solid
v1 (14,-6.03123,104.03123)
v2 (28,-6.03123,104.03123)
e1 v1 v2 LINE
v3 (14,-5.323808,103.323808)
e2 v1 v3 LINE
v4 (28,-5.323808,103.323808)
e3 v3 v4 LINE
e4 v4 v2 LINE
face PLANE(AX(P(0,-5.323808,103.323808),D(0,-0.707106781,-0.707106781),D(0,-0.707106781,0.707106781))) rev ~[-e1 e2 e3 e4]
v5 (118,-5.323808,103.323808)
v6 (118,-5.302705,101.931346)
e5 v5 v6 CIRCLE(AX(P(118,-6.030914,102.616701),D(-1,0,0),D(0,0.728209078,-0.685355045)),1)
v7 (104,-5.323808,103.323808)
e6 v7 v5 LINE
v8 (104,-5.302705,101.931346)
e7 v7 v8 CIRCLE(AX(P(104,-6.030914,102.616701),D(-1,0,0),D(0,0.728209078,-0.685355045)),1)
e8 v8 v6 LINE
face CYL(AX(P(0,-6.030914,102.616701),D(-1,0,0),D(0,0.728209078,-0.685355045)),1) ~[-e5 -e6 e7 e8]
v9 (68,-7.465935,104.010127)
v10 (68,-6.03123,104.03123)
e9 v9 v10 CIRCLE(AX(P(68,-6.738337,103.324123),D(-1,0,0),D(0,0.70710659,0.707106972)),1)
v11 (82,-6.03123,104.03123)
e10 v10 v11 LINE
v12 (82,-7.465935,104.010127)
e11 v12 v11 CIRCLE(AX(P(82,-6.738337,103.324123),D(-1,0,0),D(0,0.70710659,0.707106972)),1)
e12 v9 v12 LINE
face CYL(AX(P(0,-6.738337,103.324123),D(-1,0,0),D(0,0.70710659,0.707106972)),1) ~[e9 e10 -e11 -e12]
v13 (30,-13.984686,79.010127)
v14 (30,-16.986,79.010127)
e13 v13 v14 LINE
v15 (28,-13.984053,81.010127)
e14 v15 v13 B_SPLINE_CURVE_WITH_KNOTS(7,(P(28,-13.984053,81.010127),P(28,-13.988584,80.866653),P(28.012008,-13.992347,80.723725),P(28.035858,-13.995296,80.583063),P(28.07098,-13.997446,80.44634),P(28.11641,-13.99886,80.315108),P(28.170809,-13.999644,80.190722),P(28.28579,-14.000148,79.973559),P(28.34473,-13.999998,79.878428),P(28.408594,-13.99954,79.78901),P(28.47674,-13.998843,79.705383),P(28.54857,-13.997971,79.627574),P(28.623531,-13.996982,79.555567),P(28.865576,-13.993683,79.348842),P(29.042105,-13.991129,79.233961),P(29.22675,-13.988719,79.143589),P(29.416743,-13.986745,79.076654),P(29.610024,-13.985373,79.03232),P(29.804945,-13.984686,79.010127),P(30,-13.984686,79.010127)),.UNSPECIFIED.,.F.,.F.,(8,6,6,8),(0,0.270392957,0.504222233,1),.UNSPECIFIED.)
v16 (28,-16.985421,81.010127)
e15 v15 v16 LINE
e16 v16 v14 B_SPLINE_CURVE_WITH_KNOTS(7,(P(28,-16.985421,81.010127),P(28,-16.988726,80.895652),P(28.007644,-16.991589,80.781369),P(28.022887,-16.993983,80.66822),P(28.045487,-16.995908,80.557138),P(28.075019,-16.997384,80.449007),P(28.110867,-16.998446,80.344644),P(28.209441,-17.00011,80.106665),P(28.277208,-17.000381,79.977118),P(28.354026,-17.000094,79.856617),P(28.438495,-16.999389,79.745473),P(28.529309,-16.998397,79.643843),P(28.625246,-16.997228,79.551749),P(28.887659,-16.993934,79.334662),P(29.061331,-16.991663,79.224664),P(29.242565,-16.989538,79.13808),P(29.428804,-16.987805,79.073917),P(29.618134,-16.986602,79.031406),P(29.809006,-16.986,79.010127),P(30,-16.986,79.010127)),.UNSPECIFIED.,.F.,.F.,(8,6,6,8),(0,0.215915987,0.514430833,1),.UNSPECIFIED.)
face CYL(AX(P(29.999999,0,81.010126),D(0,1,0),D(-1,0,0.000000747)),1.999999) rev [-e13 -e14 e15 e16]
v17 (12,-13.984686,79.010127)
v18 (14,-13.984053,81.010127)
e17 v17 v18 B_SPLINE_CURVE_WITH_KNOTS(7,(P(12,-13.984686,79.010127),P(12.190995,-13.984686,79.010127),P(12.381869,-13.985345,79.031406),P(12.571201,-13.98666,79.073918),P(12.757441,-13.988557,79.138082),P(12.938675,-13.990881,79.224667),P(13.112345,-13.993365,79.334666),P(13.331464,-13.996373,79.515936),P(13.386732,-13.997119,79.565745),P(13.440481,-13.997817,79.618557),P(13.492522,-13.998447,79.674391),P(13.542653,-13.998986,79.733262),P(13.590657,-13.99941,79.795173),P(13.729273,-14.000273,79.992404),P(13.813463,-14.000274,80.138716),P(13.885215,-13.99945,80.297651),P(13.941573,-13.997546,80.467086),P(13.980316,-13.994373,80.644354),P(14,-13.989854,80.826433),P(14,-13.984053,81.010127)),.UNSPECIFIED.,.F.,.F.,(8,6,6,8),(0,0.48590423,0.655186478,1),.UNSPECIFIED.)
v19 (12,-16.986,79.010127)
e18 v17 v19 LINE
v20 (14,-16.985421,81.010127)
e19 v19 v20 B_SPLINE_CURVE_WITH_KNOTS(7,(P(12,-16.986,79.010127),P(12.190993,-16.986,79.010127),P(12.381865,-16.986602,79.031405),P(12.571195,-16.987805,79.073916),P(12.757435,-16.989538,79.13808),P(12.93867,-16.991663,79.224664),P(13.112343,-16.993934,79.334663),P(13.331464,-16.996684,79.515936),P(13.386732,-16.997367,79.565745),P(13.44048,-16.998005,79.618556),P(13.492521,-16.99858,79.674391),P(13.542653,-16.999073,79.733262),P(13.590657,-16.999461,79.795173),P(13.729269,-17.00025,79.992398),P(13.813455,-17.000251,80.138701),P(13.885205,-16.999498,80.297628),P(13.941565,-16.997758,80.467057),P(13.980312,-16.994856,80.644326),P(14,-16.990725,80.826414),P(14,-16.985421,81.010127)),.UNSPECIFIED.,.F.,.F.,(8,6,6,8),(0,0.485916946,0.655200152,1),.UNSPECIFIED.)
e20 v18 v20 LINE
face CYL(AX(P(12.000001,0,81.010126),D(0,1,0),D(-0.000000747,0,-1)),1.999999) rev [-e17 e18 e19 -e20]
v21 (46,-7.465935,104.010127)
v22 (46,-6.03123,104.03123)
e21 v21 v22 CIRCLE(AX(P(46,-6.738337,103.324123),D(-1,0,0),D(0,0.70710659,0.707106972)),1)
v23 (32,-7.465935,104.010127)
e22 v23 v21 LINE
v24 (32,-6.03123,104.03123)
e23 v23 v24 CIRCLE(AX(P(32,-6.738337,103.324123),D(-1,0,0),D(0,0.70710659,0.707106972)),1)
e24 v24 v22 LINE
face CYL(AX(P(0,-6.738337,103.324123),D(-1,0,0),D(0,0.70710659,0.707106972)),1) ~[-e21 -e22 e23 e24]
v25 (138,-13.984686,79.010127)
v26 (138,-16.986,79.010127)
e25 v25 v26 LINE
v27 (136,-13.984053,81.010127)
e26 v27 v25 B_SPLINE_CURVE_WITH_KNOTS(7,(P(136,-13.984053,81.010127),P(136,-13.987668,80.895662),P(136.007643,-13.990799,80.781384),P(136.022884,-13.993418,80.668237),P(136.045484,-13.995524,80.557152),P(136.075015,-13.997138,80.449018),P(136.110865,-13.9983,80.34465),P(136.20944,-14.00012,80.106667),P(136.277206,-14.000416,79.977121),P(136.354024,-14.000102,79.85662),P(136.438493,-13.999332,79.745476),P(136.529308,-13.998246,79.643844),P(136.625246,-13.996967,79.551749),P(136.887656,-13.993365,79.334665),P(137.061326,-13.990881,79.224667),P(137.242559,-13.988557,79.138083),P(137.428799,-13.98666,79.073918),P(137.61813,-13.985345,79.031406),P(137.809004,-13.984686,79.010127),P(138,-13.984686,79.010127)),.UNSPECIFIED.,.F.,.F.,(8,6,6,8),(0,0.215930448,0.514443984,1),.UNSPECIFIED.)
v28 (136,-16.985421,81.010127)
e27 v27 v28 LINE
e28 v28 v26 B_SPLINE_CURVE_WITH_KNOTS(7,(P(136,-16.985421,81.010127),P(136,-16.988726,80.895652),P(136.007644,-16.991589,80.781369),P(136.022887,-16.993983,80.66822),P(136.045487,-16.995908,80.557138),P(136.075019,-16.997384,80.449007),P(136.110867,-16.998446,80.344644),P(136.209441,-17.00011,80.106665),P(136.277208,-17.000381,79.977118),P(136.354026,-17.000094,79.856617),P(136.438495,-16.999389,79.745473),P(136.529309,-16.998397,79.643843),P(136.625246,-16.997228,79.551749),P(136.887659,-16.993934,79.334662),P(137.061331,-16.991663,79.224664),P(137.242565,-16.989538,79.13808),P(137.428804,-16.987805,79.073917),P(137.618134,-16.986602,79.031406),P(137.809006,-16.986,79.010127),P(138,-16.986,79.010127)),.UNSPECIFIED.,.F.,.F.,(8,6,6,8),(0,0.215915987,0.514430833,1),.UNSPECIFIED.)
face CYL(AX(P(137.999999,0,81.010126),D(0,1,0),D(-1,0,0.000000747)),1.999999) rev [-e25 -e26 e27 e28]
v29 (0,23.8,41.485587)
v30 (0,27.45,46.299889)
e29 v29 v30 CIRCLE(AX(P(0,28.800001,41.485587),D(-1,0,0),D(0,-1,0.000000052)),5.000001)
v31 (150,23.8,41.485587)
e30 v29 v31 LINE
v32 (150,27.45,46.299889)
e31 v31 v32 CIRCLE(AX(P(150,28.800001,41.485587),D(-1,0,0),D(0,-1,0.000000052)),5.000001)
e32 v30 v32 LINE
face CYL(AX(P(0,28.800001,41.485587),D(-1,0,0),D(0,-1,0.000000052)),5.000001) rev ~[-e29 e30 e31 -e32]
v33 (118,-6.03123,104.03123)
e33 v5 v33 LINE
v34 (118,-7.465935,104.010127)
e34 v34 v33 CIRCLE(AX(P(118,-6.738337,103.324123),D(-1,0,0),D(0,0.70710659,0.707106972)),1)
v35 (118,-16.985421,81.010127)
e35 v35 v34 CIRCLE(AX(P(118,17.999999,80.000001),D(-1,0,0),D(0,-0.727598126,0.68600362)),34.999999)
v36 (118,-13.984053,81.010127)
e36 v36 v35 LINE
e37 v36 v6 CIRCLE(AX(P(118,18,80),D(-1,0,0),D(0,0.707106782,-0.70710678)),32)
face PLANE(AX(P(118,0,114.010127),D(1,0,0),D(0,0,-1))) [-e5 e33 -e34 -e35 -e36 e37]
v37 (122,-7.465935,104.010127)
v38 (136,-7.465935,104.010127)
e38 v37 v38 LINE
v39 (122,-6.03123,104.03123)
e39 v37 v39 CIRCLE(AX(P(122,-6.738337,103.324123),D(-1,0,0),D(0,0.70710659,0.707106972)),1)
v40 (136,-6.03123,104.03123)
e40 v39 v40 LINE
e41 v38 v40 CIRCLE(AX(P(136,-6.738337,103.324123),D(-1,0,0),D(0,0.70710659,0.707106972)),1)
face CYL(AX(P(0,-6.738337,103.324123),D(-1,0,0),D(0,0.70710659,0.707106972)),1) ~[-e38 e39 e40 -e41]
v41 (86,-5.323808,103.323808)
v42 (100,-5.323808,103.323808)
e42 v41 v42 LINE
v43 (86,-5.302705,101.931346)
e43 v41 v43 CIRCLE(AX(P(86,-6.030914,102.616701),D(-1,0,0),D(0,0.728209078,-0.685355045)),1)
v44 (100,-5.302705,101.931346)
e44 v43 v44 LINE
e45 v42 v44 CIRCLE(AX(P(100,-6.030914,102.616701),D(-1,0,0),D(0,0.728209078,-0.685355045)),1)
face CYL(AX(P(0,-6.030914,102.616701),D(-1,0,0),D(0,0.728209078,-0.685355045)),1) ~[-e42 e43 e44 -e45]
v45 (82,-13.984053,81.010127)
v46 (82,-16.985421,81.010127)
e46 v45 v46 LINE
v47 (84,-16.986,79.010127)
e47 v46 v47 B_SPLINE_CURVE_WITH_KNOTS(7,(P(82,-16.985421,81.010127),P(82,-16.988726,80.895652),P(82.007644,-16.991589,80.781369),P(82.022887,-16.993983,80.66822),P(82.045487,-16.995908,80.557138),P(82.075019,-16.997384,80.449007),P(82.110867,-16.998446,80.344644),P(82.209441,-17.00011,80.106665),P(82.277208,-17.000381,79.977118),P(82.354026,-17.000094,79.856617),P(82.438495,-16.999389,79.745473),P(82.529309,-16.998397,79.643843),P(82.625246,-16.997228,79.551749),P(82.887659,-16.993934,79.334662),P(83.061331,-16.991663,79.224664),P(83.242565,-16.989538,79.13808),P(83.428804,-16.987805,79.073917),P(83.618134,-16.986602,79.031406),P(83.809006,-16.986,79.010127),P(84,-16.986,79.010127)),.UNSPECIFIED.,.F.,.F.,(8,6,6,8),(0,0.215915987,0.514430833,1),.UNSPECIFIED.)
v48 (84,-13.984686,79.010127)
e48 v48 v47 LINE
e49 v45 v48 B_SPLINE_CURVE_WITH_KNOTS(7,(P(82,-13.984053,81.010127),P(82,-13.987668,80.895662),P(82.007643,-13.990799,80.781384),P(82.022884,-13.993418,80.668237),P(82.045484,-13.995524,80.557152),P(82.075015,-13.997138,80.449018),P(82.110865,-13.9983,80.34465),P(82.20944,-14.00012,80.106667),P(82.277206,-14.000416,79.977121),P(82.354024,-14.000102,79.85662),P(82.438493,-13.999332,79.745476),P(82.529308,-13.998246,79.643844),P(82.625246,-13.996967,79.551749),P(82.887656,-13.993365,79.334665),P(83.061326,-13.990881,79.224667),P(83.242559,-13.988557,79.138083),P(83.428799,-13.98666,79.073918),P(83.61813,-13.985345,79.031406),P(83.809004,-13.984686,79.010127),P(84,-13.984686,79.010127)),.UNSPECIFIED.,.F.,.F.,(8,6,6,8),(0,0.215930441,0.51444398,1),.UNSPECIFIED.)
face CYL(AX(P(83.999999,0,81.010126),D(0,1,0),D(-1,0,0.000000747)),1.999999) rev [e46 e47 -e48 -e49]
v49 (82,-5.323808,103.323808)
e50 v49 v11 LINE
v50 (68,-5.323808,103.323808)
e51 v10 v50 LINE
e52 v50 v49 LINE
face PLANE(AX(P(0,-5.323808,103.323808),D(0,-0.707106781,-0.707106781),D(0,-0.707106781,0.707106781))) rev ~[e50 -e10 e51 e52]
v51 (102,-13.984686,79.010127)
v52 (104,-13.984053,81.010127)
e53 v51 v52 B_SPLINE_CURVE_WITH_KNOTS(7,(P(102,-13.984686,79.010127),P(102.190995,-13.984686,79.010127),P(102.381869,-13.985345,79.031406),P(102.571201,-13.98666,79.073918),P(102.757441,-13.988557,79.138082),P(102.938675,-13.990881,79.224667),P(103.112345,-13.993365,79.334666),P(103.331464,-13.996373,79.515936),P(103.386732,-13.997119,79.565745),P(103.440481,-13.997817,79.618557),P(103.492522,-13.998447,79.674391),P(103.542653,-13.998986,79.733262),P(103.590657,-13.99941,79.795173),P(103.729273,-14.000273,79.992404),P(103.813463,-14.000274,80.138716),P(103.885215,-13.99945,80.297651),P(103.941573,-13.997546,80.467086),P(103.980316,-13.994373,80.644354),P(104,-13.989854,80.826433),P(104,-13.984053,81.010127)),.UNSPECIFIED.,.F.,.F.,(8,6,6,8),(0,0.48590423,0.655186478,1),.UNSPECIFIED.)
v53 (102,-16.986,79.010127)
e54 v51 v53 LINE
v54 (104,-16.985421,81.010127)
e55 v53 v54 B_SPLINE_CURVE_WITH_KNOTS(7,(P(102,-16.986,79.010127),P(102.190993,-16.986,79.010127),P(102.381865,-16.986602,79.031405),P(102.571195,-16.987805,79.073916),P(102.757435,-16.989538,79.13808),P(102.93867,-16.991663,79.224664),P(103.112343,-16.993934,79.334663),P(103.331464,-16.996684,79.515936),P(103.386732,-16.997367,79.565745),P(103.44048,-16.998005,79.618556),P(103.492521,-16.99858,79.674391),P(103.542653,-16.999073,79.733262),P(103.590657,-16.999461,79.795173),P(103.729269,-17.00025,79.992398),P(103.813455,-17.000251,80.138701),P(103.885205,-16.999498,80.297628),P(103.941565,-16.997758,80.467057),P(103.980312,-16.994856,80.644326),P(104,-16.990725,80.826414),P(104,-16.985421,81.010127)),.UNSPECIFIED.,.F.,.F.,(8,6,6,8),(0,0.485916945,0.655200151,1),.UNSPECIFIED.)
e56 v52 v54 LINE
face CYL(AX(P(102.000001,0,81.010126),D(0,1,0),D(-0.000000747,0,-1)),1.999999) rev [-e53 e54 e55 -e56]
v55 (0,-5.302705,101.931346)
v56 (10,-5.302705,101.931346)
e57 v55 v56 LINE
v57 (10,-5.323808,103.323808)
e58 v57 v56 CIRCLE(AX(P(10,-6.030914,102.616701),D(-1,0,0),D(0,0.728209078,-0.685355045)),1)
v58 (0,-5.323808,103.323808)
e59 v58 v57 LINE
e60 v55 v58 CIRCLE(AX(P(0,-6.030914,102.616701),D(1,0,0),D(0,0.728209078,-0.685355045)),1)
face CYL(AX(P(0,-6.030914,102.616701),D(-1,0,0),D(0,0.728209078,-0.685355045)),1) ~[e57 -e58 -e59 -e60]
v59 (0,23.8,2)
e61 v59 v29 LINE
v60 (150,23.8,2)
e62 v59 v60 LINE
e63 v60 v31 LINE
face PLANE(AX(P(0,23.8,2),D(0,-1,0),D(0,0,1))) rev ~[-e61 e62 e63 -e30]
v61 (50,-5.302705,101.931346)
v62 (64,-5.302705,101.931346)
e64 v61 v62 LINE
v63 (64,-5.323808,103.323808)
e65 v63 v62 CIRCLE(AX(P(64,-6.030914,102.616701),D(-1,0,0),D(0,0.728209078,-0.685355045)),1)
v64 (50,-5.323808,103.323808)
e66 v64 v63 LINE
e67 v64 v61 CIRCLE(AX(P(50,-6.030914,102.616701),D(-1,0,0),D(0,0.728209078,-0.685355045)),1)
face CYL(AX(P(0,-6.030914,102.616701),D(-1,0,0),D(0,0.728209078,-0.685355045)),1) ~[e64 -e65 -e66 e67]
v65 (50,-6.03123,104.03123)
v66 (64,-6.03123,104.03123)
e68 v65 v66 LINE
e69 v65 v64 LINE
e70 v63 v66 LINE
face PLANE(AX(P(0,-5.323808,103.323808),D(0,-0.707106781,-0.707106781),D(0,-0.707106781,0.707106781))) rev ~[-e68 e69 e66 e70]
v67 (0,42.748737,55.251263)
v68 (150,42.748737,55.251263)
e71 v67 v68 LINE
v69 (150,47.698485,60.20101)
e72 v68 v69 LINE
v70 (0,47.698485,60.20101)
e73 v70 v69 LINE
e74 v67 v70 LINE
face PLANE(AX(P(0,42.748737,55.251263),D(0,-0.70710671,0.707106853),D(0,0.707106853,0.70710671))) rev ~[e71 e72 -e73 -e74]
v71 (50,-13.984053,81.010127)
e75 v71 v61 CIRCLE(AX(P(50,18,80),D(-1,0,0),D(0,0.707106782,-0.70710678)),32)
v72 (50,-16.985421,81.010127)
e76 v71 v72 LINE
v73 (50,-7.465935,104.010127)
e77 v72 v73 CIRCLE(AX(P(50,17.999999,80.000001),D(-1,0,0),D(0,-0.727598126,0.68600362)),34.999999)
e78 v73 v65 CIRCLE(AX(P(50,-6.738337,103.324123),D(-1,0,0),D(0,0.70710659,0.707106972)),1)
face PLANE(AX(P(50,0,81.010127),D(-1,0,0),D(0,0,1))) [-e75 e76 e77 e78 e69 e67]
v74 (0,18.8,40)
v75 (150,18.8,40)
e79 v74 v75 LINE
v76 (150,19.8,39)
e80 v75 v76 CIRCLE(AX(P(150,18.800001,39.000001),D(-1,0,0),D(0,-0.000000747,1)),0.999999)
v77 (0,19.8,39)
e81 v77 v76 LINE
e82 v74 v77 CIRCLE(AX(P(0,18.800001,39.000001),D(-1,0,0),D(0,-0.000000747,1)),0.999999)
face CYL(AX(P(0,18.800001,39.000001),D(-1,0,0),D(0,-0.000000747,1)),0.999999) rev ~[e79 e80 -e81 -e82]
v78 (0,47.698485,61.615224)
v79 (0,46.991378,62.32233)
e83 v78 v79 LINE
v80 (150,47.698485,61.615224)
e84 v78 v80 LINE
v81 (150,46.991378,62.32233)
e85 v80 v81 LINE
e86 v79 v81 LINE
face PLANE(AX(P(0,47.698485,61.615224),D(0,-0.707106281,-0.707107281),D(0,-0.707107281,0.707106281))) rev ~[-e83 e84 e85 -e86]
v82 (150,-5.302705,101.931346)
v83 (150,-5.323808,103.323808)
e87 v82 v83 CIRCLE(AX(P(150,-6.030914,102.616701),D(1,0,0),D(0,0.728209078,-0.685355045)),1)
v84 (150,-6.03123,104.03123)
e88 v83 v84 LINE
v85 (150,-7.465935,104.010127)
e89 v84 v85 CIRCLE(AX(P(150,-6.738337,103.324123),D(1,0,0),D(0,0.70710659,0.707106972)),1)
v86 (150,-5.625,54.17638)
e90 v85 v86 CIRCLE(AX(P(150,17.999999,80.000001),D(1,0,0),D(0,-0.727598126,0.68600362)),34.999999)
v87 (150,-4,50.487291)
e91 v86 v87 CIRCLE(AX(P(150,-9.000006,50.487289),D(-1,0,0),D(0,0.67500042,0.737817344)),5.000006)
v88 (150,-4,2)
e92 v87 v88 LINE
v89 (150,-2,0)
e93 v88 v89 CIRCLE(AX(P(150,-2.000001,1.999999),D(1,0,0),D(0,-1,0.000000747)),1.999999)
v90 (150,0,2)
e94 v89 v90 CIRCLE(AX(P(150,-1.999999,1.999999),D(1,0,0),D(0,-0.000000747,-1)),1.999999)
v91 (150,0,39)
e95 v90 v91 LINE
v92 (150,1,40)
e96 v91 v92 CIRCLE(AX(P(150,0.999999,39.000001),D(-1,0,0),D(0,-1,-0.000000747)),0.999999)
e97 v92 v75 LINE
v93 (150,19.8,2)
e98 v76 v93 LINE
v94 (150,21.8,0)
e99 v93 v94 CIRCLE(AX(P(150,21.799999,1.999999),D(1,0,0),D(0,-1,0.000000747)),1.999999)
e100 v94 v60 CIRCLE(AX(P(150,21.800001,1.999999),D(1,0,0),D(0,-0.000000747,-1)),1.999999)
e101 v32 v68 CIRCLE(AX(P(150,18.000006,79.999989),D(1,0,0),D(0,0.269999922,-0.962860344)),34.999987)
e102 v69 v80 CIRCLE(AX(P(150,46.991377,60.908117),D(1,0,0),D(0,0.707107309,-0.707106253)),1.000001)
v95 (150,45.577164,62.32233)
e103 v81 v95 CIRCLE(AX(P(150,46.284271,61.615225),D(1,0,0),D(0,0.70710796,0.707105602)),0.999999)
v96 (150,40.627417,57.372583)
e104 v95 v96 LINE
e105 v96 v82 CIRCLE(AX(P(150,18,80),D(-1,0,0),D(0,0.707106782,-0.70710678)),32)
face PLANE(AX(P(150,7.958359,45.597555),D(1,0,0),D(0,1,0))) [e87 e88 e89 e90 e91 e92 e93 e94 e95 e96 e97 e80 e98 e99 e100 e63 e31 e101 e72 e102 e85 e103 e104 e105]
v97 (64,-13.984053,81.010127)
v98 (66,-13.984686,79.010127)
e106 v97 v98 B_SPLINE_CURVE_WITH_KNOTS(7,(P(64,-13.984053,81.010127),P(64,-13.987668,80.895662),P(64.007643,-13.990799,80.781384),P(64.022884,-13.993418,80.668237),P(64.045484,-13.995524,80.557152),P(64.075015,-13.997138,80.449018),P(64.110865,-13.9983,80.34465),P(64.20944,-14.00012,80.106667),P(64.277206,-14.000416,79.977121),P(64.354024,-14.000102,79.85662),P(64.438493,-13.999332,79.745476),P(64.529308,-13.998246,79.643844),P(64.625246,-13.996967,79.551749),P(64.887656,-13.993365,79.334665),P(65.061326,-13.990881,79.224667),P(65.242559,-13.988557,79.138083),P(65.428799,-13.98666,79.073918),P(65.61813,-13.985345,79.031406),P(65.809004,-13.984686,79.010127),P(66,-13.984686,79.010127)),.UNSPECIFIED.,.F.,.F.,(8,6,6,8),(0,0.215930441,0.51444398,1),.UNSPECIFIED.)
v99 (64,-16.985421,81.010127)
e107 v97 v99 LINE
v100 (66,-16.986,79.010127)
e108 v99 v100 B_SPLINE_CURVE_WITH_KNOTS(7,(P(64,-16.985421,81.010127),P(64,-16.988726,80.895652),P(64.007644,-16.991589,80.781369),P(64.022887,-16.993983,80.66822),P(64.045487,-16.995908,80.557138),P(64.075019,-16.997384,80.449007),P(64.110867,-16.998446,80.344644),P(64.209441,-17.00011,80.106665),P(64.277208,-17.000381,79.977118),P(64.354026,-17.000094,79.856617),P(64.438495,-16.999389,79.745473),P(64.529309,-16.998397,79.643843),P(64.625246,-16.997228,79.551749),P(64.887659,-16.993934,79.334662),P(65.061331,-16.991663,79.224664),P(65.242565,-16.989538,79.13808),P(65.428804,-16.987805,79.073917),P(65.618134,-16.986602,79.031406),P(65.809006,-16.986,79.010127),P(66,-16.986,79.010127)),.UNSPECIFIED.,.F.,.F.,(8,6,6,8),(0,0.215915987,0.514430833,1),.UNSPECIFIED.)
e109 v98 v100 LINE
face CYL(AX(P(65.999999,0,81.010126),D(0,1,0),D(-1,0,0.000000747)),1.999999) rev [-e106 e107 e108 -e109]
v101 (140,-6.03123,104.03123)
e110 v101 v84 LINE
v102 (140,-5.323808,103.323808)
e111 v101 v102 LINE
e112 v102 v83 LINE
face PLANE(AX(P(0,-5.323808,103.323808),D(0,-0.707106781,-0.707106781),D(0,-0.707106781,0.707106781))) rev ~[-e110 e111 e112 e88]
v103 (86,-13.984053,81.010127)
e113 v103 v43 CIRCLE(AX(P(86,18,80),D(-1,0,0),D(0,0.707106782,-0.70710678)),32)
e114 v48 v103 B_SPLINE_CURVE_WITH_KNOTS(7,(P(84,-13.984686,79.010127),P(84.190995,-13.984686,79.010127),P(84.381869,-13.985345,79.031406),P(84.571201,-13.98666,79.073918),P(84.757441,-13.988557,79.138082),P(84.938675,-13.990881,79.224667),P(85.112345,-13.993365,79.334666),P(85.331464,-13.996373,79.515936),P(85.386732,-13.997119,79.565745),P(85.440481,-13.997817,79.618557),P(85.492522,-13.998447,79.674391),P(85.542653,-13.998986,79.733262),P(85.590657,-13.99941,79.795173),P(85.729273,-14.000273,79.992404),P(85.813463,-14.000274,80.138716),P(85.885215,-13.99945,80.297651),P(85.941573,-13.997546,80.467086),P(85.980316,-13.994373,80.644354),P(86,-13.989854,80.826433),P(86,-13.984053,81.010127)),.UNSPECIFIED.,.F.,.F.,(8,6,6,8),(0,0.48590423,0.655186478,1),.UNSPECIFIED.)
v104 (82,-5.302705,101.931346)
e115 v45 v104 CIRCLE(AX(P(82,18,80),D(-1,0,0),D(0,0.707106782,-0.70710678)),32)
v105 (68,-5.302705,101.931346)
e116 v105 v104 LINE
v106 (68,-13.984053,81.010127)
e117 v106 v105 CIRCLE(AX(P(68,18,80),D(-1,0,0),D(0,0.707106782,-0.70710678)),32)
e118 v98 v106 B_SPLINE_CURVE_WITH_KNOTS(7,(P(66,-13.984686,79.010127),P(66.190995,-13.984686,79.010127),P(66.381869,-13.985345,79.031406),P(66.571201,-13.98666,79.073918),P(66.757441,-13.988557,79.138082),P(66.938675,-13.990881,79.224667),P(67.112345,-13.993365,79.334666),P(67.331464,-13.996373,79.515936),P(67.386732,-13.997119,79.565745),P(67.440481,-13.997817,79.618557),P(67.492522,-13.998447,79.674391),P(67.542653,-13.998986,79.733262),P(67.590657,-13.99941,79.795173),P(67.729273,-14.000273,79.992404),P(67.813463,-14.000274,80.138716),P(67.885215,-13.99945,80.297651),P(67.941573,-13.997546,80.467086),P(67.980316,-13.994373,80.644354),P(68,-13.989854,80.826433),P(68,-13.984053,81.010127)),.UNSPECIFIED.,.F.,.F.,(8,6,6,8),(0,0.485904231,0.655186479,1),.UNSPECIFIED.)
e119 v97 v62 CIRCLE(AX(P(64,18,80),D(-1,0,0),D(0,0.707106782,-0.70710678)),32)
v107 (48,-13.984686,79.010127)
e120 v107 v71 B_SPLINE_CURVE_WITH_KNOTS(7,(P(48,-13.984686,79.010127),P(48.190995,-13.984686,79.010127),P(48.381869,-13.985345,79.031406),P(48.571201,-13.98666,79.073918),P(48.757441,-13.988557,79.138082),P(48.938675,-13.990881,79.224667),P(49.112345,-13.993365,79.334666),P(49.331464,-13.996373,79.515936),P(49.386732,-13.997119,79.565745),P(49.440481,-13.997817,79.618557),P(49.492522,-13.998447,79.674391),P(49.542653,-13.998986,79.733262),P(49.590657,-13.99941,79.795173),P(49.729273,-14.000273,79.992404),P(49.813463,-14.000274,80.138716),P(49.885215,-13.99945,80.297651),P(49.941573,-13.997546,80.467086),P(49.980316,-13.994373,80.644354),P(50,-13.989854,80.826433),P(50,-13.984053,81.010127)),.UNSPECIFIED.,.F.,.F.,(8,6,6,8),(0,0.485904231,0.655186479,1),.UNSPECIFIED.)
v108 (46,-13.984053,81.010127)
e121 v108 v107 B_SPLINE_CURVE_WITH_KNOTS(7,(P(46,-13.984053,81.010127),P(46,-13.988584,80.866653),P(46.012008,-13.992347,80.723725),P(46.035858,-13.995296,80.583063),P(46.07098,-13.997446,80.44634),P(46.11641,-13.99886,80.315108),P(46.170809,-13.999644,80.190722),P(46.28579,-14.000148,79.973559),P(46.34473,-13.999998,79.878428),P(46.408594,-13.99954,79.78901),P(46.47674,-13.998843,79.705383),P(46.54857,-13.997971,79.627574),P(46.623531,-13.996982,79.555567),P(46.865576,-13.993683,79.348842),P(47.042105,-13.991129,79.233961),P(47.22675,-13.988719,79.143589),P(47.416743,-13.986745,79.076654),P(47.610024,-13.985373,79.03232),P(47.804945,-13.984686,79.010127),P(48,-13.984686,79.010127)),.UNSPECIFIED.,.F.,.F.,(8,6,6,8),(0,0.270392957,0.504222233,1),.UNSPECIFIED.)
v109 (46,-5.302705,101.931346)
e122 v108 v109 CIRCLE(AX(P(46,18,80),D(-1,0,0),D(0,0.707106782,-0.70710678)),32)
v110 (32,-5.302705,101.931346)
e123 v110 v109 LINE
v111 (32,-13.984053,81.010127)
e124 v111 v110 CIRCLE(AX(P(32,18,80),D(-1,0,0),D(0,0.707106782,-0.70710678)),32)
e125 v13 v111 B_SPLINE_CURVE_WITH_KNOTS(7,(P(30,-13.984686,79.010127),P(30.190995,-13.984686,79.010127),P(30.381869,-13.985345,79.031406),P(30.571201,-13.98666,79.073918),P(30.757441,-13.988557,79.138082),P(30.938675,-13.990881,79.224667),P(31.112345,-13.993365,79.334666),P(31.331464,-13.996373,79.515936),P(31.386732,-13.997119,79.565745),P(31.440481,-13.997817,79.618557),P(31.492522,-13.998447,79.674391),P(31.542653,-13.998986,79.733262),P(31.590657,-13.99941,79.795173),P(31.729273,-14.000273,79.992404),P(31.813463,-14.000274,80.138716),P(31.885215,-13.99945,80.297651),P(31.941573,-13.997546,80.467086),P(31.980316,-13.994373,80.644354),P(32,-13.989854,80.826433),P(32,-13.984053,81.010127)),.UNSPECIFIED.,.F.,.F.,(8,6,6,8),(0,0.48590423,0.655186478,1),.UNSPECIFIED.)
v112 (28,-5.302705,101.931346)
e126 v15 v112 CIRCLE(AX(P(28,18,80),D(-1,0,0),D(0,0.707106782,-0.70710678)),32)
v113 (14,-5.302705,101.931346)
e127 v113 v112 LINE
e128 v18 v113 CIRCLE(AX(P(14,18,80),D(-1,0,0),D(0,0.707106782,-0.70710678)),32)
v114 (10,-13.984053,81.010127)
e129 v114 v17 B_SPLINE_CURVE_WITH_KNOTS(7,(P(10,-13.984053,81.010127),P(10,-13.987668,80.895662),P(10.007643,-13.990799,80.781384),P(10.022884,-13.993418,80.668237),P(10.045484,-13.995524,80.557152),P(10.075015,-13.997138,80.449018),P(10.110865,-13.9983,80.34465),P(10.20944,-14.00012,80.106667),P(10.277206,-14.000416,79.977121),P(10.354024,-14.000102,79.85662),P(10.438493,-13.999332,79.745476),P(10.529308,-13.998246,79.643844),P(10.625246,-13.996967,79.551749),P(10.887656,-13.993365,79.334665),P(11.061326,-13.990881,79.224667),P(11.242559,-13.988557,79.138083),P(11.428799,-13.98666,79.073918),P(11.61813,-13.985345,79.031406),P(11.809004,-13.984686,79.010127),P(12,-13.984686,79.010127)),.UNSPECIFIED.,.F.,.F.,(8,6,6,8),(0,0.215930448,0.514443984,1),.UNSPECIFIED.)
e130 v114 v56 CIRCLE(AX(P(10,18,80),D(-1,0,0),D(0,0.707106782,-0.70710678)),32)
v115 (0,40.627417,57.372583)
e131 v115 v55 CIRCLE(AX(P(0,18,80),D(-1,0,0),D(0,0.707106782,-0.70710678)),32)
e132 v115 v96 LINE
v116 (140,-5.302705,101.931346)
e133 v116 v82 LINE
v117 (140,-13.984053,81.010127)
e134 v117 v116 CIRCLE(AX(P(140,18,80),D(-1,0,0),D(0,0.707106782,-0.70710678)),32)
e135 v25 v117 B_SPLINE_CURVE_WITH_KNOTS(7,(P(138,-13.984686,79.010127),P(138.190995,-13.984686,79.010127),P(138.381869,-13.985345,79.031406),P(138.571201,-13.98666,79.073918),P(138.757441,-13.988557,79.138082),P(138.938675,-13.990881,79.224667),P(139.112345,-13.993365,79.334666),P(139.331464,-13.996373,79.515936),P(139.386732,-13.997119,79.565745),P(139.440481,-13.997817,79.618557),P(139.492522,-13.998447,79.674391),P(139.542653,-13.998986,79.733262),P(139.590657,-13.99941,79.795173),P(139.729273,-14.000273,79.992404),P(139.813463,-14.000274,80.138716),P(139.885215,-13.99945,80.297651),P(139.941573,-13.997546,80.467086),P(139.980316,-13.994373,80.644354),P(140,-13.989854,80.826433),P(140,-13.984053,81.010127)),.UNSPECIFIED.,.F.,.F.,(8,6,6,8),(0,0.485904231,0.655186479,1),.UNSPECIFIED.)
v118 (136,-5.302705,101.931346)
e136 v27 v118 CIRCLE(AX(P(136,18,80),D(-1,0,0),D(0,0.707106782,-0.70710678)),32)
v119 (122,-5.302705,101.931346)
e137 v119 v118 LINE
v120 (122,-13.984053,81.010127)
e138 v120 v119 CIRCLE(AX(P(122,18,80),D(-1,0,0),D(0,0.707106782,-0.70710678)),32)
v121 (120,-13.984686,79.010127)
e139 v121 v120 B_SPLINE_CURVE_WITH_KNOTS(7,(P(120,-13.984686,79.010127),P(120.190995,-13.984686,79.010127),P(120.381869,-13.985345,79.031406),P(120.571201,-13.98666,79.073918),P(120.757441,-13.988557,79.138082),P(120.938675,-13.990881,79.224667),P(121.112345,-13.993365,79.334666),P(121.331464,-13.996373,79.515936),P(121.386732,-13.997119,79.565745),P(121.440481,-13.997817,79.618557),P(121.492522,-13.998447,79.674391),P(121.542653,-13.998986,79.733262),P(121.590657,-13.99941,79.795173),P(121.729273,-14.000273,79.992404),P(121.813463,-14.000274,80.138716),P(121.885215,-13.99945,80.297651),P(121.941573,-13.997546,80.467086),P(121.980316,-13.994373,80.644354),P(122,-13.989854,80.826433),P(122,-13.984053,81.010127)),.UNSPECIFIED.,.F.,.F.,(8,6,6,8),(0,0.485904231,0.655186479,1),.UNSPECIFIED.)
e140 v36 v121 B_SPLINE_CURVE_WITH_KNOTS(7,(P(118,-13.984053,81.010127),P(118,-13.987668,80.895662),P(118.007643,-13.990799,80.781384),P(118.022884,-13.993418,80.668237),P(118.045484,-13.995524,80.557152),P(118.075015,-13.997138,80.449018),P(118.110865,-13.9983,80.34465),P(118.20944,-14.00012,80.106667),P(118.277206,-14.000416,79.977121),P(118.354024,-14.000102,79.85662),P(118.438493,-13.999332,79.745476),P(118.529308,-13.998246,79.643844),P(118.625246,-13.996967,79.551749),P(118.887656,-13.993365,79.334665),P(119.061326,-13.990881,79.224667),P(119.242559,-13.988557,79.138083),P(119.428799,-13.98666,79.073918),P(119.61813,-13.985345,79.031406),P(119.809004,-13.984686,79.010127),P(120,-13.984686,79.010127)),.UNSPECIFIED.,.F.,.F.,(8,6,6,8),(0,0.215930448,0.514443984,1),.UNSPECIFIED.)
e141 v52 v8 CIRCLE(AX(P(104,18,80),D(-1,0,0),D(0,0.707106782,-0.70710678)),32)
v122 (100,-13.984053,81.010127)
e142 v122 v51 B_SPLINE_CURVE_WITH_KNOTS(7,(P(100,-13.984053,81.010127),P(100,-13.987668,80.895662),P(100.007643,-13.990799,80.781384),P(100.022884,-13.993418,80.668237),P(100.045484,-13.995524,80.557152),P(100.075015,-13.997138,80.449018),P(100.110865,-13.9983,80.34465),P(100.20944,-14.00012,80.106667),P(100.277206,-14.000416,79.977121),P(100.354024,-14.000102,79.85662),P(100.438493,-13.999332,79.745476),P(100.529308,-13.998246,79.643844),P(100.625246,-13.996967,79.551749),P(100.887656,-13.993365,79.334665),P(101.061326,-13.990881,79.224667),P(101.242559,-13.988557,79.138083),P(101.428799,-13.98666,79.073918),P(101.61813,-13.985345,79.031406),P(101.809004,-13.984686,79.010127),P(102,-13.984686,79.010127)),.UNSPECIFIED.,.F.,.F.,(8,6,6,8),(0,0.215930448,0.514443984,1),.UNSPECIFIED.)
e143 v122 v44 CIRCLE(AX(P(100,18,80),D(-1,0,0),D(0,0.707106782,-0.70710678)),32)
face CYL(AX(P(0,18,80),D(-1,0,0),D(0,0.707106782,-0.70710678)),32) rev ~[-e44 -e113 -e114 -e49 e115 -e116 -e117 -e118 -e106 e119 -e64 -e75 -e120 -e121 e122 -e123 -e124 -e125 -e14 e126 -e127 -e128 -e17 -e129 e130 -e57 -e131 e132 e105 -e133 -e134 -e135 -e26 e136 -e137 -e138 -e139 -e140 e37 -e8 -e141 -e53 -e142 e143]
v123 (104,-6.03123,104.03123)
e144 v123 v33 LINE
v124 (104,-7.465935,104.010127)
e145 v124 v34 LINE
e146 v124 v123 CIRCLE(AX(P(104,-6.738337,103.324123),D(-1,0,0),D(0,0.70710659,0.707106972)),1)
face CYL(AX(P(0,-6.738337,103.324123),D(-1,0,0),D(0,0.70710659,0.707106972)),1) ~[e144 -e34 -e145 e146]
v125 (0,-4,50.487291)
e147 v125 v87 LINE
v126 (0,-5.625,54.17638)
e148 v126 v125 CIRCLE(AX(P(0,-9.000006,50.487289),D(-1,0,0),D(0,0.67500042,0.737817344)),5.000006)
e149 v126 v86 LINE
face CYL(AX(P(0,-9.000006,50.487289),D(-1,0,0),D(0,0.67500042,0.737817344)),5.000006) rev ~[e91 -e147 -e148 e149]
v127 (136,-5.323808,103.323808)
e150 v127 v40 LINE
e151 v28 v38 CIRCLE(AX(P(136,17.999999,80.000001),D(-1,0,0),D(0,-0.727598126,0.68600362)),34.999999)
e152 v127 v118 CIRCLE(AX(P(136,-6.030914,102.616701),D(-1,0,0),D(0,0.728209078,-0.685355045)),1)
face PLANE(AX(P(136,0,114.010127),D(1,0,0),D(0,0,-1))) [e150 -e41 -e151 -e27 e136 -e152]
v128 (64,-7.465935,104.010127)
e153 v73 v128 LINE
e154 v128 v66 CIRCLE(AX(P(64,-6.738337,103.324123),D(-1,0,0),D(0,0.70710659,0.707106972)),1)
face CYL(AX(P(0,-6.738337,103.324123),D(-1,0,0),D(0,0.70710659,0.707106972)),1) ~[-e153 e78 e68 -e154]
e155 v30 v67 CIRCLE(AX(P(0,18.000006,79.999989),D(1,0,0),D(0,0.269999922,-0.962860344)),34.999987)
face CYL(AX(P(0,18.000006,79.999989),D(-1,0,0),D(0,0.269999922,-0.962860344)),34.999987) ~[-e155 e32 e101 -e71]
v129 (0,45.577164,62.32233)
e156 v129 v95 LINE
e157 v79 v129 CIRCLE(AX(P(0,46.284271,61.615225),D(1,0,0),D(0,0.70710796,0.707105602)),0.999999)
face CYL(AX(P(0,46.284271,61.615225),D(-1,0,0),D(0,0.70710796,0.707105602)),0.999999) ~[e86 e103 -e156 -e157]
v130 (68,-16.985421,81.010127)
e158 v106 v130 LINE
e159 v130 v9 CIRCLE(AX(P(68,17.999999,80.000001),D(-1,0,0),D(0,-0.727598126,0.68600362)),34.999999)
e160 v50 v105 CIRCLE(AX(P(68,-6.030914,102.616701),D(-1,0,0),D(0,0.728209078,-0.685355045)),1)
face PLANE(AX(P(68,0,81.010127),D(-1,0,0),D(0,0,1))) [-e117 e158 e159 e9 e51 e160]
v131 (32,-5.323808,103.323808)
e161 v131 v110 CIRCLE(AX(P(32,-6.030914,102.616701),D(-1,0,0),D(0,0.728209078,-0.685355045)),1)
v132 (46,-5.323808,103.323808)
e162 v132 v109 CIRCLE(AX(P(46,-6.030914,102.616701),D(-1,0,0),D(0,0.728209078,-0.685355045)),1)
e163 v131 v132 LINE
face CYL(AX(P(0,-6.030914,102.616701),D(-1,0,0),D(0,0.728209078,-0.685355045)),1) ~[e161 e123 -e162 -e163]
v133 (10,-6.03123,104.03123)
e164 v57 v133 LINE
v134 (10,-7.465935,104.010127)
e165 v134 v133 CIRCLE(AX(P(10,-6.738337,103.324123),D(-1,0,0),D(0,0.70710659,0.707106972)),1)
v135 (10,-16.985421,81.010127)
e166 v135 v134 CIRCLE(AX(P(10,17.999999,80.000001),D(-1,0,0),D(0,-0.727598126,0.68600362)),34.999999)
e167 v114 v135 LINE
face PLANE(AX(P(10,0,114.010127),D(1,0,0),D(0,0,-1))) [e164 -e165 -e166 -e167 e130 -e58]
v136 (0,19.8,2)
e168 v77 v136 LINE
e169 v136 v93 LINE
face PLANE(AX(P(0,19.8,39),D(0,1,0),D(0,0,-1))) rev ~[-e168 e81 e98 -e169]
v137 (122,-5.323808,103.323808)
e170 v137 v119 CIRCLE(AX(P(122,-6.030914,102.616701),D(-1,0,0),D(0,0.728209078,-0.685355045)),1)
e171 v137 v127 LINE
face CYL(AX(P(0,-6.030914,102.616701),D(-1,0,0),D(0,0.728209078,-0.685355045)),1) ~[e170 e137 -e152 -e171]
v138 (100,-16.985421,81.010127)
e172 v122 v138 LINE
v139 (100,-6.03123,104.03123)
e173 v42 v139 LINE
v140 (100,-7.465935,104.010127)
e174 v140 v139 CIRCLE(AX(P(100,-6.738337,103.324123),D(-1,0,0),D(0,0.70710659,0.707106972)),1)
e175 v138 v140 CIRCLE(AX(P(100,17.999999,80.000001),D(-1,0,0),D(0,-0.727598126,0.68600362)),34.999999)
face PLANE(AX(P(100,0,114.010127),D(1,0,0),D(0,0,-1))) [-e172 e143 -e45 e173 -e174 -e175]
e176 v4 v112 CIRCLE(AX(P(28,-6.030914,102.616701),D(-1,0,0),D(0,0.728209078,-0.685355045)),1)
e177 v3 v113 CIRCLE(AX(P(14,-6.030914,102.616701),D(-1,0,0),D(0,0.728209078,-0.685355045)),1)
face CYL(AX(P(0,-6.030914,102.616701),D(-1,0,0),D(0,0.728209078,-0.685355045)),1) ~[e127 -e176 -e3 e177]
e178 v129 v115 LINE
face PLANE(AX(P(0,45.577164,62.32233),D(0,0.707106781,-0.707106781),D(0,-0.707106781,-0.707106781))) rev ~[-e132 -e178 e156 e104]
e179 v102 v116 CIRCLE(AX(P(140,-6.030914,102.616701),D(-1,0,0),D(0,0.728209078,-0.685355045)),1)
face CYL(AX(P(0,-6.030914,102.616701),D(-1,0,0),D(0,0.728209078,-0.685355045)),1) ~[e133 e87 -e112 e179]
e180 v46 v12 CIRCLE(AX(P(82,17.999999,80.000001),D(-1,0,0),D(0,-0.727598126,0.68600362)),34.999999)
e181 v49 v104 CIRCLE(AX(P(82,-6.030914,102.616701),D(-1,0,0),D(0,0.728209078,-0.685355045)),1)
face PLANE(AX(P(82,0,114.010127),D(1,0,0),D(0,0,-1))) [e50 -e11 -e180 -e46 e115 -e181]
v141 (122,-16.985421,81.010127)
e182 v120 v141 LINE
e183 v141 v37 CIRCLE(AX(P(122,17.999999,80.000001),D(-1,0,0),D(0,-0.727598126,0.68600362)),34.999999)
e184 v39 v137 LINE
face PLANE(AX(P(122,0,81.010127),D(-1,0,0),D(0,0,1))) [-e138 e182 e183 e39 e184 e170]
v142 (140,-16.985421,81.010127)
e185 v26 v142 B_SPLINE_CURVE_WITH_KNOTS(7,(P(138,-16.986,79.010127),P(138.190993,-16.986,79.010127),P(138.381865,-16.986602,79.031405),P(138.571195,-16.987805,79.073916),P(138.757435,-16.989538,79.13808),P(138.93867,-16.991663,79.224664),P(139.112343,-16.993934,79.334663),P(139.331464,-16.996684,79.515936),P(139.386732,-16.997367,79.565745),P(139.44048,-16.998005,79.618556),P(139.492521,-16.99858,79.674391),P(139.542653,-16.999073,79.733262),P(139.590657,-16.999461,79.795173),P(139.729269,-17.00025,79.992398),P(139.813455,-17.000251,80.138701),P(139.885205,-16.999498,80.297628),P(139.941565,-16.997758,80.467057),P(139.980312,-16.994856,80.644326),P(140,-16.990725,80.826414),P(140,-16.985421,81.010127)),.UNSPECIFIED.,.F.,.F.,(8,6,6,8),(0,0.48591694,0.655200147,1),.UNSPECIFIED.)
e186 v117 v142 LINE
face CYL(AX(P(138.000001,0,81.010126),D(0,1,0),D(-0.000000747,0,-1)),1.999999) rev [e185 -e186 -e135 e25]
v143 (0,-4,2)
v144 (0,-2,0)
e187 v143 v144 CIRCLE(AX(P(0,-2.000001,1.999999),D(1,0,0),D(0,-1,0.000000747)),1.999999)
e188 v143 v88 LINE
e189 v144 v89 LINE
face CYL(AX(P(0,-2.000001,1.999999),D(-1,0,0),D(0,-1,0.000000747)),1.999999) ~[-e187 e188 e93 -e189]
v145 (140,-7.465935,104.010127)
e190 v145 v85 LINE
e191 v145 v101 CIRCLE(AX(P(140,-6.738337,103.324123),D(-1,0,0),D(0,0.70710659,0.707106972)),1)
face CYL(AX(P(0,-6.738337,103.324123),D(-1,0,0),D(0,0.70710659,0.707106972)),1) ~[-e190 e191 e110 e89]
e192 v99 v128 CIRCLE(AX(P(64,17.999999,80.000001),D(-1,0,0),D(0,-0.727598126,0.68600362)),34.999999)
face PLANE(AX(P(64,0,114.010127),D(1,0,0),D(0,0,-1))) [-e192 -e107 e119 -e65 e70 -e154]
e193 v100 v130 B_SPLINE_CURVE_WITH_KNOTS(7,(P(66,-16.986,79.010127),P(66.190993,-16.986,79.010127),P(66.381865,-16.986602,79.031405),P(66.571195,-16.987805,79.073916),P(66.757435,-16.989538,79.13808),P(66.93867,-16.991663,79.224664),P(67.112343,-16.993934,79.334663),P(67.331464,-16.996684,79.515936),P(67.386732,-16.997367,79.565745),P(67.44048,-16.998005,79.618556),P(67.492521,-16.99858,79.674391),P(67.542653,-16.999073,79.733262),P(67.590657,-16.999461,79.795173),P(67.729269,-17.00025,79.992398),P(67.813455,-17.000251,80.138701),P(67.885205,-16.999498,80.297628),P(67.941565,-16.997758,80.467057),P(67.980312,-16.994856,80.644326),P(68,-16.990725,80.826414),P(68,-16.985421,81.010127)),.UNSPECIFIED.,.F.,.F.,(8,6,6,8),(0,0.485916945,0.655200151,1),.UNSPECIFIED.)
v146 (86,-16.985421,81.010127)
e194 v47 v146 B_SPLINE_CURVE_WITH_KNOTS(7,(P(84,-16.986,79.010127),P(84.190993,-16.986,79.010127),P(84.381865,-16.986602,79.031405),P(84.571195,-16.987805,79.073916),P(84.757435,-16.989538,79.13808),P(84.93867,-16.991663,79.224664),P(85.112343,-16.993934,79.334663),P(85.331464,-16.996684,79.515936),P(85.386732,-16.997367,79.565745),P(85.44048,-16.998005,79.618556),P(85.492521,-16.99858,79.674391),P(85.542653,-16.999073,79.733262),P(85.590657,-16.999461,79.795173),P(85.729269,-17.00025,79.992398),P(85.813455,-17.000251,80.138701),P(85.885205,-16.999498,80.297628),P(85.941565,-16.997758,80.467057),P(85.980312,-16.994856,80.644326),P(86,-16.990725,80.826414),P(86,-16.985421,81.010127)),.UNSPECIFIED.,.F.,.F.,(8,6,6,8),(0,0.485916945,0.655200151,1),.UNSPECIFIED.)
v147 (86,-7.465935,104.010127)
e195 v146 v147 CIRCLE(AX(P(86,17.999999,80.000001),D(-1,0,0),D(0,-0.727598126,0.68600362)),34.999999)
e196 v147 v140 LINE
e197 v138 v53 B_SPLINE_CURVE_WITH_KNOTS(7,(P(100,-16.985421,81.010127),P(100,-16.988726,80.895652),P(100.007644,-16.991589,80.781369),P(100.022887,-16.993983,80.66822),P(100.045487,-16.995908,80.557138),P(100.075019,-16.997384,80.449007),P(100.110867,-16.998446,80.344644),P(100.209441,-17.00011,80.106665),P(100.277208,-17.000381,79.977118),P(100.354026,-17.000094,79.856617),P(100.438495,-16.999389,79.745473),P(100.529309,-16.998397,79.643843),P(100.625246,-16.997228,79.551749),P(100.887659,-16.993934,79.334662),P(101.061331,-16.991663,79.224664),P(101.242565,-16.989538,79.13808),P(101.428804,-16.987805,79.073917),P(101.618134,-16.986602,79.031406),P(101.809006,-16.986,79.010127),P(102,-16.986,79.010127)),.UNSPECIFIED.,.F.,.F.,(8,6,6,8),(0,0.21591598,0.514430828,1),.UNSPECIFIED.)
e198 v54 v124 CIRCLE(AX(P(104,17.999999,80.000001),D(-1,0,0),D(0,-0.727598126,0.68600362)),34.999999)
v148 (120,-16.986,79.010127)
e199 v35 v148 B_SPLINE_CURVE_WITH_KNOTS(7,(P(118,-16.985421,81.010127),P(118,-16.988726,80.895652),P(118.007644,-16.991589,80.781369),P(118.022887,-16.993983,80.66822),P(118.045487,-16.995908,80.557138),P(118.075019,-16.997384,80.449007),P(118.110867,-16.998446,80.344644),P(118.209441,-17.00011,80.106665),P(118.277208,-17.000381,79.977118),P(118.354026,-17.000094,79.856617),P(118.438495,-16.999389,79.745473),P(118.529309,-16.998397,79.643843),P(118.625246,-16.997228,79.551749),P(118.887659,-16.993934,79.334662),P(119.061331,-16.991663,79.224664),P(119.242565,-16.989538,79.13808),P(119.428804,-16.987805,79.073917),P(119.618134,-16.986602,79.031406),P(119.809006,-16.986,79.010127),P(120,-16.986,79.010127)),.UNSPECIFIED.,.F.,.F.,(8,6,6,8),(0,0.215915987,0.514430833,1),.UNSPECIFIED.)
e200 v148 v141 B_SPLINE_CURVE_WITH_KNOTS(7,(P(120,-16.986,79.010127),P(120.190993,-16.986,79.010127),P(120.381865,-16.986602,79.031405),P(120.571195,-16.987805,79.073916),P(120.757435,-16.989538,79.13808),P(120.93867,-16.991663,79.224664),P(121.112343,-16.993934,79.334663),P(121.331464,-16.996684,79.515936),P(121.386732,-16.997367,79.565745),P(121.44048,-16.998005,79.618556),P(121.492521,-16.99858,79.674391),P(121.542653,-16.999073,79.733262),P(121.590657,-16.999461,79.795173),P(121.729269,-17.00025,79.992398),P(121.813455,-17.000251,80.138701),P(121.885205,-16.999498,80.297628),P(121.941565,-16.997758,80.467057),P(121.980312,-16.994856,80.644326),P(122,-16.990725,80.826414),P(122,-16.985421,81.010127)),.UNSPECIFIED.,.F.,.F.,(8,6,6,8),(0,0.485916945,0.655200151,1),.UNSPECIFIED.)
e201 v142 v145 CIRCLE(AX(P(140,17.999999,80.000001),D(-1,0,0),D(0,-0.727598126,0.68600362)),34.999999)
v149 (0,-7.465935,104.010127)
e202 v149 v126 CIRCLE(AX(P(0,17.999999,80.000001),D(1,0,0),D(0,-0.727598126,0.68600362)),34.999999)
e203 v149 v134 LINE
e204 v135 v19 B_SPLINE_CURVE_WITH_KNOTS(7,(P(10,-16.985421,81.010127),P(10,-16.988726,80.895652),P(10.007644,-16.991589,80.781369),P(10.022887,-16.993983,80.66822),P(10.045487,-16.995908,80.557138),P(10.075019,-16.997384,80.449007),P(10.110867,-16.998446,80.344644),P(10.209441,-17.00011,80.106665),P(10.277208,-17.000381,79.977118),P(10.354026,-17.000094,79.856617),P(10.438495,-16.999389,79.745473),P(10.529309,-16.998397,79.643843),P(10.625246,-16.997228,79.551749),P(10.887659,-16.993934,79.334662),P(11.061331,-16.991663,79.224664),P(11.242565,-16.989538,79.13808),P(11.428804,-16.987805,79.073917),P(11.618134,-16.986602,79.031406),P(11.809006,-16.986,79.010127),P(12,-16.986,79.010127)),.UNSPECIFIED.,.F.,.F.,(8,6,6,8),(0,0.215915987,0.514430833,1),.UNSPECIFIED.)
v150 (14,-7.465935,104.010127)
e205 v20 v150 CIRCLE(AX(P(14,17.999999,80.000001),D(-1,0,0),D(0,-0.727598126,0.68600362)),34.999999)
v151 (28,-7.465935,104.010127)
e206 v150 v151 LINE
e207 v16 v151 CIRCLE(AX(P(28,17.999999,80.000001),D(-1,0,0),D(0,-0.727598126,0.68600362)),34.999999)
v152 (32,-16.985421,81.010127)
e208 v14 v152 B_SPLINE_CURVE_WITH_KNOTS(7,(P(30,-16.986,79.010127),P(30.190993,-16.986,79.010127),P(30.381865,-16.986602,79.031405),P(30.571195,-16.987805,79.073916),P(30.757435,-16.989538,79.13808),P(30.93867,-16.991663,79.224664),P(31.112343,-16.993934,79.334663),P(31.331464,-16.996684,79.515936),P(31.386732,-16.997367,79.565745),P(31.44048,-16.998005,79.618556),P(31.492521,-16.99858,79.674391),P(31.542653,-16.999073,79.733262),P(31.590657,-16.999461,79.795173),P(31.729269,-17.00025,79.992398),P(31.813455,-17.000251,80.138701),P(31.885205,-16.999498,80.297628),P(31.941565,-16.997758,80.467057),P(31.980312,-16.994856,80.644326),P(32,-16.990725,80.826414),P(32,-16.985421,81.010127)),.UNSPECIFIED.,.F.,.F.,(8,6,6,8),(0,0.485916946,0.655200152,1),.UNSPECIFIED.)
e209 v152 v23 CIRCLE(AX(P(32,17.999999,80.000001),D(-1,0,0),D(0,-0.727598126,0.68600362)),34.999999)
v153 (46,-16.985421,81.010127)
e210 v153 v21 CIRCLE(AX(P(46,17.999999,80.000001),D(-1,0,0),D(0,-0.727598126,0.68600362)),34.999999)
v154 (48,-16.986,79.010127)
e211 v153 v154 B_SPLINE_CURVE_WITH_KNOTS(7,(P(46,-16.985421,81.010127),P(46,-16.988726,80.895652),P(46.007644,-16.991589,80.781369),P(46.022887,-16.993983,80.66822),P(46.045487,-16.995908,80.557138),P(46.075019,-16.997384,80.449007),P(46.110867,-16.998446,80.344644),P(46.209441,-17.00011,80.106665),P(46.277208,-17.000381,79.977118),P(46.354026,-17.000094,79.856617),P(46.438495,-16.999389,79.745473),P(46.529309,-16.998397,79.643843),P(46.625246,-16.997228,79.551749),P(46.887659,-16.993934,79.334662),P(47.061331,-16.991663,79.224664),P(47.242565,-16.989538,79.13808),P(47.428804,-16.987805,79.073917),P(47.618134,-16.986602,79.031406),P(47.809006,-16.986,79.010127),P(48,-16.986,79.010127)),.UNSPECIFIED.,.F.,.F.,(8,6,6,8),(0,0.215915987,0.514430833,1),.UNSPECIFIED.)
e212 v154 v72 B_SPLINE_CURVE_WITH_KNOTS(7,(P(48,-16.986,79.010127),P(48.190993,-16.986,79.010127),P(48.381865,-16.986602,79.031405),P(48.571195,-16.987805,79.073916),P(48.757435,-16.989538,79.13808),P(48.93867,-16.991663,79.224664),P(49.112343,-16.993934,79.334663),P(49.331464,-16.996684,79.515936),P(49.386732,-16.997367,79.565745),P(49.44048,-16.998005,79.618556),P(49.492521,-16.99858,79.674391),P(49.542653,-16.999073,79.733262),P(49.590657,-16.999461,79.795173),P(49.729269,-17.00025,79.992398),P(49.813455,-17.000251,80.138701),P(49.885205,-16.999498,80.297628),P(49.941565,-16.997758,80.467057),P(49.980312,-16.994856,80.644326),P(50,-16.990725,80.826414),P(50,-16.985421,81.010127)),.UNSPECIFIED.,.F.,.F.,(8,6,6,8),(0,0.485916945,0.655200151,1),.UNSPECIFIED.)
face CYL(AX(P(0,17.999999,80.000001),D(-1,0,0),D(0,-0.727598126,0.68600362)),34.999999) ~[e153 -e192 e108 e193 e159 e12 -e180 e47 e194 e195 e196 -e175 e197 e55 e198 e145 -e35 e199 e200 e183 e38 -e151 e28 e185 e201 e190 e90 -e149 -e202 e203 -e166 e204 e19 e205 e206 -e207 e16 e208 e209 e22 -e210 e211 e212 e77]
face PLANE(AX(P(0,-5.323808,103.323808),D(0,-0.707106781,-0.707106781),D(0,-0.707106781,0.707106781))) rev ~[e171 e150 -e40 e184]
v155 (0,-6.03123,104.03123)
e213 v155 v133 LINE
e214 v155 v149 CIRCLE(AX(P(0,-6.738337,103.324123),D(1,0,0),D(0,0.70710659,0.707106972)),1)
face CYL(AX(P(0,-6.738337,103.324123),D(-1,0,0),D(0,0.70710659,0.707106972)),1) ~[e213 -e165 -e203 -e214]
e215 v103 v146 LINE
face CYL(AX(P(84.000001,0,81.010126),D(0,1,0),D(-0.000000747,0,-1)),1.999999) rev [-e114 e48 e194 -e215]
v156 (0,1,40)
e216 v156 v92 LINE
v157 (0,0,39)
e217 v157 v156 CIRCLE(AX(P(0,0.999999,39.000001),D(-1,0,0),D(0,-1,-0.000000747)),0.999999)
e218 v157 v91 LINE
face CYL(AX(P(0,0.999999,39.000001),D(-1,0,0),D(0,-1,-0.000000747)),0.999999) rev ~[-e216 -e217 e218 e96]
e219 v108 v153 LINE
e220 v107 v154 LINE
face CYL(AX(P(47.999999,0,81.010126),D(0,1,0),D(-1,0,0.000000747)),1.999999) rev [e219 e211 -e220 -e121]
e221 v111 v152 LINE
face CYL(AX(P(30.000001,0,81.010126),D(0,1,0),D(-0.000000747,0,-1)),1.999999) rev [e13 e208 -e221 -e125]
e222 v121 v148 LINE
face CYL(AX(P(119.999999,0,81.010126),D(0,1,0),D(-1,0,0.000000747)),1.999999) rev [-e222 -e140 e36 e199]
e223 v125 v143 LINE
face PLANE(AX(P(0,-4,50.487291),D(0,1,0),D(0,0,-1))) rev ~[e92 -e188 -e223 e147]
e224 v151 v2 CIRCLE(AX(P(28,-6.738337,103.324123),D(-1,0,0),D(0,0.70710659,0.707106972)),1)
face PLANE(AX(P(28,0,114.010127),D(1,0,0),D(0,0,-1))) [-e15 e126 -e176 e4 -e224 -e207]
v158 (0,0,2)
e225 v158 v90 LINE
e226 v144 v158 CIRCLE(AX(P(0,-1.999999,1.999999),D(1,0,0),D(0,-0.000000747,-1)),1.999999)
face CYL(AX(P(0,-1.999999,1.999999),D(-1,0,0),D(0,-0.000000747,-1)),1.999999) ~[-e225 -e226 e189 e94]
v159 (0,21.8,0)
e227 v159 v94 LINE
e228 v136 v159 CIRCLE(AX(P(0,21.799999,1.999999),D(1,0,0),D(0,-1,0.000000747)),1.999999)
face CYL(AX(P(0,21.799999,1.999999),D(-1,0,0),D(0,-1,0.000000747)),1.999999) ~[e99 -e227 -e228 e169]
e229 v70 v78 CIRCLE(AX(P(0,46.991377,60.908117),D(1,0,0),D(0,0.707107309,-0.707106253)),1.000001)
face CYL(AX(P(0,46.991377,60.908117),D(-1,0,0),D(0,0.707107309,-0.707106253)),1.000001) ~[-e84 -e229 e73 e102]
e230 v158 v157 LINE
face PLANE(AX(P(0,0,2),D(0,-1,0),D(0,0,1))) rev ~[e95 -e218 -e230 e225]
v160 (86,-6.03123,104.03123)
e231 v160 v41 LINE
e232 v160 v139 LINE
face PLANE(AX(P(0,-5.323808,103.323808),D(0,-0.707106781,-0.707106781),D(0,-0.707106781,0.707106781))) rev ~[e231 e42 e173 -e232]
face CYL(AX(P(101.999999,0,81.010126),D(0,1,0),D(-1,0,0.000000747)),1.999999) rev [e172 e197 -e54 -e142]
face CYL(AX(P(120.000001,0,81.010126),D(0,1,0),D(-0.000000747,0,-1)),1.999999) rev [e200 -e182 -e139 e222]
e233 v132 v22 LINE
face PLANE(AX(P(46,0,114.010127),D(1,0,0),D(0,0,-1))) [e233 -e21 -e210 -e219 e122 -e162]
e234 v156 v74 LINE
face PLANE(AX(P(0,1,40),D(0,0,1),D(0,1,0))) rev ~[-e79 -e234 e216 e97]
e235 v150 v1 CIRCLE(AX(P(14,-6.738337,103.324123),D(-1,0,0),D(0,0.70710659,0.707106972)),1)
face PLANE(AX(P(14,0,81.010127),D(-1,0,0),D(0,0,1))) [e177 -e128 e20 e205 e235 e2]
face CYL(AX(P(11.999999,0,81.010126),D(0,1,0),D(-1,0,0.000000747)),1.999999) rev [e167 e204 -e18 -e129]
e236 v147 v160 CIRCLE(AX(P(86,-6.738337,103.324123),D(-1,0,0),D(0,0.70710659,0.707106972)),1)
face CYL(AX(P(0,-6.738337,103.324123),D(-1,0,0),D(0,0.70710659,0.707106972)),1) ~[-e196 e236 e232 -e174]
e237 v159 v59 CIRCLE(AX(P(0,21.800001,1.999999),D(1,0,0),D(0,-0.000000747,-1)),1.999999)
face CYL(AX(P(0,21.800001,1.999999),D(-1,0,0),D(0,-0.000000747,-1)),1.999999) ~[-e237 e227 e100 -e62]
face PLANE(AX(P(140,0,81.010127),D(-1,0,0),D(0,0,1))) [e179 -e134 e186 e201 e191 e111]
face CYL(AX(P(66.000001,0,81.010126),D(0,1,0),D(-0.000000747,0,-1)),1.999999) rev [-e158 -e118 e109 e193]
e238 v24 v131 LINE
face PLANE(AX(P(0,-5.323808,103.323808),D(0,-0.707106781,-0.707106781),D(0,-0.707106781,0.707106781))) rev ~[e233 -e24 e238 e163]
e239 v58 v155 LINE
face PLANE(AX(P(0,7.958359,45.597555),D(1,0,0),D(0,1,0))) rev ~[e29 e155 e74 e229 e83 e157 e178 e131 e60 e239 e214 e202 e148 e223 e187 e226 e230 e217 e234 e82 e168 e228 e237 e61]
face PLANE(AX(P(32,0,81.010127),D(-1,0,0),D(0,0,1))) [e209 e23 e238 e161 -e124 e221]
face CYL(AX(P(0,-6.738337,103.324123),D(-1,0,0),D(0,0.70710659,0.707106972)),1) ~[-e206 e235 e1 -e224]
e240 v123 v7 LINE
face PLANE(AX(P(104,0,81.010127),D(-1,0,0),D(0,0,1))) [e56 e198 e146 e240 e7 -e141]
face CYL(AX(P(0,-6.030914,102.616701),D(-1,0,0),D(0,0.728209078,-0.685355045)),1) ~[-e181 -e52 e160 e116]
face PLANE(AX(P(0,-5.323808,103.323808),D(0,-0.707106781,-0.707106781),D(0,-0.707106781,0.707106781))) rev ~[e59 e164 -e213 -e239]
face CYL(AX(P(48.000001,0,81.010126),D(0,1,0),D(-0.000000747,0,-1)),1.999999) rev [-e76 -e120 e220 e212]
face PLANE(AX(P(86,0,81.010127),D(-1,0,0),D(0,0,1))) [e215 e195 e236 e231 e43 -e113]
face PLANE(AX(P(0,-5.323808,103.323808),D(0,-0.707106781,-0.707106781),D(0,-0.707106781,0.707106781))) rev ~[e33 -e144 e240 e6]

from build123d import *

# Parameters (mm, degrees)
F1_DEPTH = 150
F3_DEPTH = 25


with BuildPart() as f1:
    # F0 (on Right) → F1 (new body)
    with BuildSketch(Plane.YZ):
        with BuildLine():
            ThreePointArc((0, 39), (0.292893, 39.707107), (1, 40))
            Line((1, 40), (18.8, 40))
            ThreePointArc((18.8, 40), (19.507107, 39.707107), (19.8, 39))
            Line((19.8, 39), (19.8, 2))
            ThreePointArc((19.8, 2), (20.385786, 0.585786), (21.8, 0))
            ThreePointArc((21.8, 0), (23.214214, 0.585786), (23.8, 2))
            Line((23.8, 2), (23.8, 41.485587))
            ThreePointArc((23.8, 41.485587), (24.815656, 44.506349), (27.45, 46.299889))
            ThreePointArc((27.45, 46.299889), (35.675412, 49.791064), (42.748737, 55.251263))
            Line((42.748737, 55.251263), (47.698485, 60.20101))
            ThreePointArc((47.698485, 60.20101), (47.991378, 60.908117), (47.698485, 61.615224))
            Line((47.698485, 61.615224), (46.991378, 62.32233))
            ThreePointArc((46.991378, 62.32233), (46.284271, 62.615224), (45.577164, 62.32233))
            Line((45.577164, 62.32233), (40.627417, 57.372583))
            ThreePointArc((40.627417, 57.372583), (-4.28194, 57.032302), (-5.302705, 101.931346))
            ThreePointArc((-5.302705, 101.931346), (-5.031029, 102.631854), (-5.323808, 103.323808))
            Line((-5.323808, 103.323808), (-6.03123, 104.03123))
            ThreePointArc((-6.03123, 104.03123), (-6.753044, 104.324015), (-7.465935, 104.010127))
            ThreePointArc((-7.465935, 104.010127), (-16.976143, 78.707928), (-5.625, 54.17638))
            ThreePointArc((-5.625, 54.17638), (-4.424249, 52.502855), (-4, 50.487291))
            Line((-4, 50.487291), (-4, 2))
            ThreePointArc((-4, 2), (-3.414214, 0.585786), (-2, 0))
            ThreePointArc((-2, 0), (-0.585786, 0.585786), (0, 2))
            Line((0, 2), (0, 39))
        make_face()
    extrude(amount=F1_DEPTH)

    # F2 (on Front) → F3 (cut)
    with BuildSketch(Plane.XZ):
        with BuildLine():
            Line((14, 114.010127), (10, 114.010127))
            Line((10, 114.010127), (10, 81.010127))
            ThreePointArc((10, 81.010127), (10.585786, 79.595913), (12, 79.010127))
            ThreePointArc((12, 79.010127), (13.414214, 79.595913), (14, 81.010127))
            Line((14, 81.010127), (14, 114.010127))
        make_face()
        with BuildLine():
            Line((32, 81.010127), (32, 114.010127))
            Line((32, 114.010127), (28, 114.010127))
            Line((28, 114.010127), (28, 81.010127))
            ThreePointArc((28, 81.010127), (28.585786, 79.595913), (30, 79.010127))
            ThreePointArc((30, 79.010127), (31.414214, 79.595913), (32, 81.010127))
        make_face()
        with BuildLine():
            Line((50, 81.010127), (50, 114.010127))
            Line((50, 114.010127), (46, 114.010127))
            Line((46, 114.010127), (46, 81.010127))
            ThreePointArc((46, 81.010127), (46.585786, 79.595913), (48, 79.010127))
            ThreePointArc((48, 79.010127), (49.414214, 79.595913), (50, 81.010127))
        make_face()
        with BuildLine():
            Line((68, 81.010127), (68, 114.010127))
            Line((68, 114.010127), (64, 114.010127))
            Line((64, 114.010127), (64, 81.010127))
            ThreePointArc((64, 81.010127), (64.585786, 79.595913), (66, 79.010127))
            ThreePointArc((66, 79.010127), (67.414214, 79.595913), (68, 81.010127))
        make_face()
        with BuildLine():
            Line((86, 81.010127), (86, 114.010127))
            Line((86, 114.010127), (82, 114.010127))
            Line((82, 114.010127), (82, 81.010127))
            ThreePointArc((82, 81.010127), (82.585786, 79.595913), (84, 79.010127))
            ThreePointArc((84, 79.010127), (85.414214, 79.595913), (86, 81.010127))
        make_face()
        with BuildLine():
            Line((104, 81.010127), (104, 114.010127))
            Line((104, 114.010127), (100, 114.010127))
            Line((100, 114.010127), (100, 81.010127))
            ThreePointArc((100, 81.010127), (100.585786, 79.595913), (102, 79.010127))
            ThreePointArc((102, 79.010127), (103.414214, 79.595913), (104, 81.010127))
        make_face()
        with BuildLine():
            Line((122, 81.010127), (122, 114.010127))
            Line((122, 114.010127), (118, 114.010127))
            Line((118, 114.010127), (118, 81.010127))
            ThreePointArc((118, 81.010127), (118.585786, 79.595913), (120, 79.010127))
            ThreePointArc((120, 79.010127), (121.414214, 79.595913), (122, 81.010127))
        make_face()
        with BuildLine():
            Line((140, 81.010127), (140, 114.010127))
            Line((140, 114.010127), (136, 114.010127))
            Line((136, 114.010127), (136, 81.010127))
            ThreePointArc((136, 81.010127), (136.585786, 79.595913), (138, 79.010127))
            ThreePointArc((138, 79.010127), (139.414214, 79.595913), (140, 81.010127))
        make_face()
    extrude(amount=F3_DEPTH, mode=Mode.SUBTRACT)


solid = f1.part
